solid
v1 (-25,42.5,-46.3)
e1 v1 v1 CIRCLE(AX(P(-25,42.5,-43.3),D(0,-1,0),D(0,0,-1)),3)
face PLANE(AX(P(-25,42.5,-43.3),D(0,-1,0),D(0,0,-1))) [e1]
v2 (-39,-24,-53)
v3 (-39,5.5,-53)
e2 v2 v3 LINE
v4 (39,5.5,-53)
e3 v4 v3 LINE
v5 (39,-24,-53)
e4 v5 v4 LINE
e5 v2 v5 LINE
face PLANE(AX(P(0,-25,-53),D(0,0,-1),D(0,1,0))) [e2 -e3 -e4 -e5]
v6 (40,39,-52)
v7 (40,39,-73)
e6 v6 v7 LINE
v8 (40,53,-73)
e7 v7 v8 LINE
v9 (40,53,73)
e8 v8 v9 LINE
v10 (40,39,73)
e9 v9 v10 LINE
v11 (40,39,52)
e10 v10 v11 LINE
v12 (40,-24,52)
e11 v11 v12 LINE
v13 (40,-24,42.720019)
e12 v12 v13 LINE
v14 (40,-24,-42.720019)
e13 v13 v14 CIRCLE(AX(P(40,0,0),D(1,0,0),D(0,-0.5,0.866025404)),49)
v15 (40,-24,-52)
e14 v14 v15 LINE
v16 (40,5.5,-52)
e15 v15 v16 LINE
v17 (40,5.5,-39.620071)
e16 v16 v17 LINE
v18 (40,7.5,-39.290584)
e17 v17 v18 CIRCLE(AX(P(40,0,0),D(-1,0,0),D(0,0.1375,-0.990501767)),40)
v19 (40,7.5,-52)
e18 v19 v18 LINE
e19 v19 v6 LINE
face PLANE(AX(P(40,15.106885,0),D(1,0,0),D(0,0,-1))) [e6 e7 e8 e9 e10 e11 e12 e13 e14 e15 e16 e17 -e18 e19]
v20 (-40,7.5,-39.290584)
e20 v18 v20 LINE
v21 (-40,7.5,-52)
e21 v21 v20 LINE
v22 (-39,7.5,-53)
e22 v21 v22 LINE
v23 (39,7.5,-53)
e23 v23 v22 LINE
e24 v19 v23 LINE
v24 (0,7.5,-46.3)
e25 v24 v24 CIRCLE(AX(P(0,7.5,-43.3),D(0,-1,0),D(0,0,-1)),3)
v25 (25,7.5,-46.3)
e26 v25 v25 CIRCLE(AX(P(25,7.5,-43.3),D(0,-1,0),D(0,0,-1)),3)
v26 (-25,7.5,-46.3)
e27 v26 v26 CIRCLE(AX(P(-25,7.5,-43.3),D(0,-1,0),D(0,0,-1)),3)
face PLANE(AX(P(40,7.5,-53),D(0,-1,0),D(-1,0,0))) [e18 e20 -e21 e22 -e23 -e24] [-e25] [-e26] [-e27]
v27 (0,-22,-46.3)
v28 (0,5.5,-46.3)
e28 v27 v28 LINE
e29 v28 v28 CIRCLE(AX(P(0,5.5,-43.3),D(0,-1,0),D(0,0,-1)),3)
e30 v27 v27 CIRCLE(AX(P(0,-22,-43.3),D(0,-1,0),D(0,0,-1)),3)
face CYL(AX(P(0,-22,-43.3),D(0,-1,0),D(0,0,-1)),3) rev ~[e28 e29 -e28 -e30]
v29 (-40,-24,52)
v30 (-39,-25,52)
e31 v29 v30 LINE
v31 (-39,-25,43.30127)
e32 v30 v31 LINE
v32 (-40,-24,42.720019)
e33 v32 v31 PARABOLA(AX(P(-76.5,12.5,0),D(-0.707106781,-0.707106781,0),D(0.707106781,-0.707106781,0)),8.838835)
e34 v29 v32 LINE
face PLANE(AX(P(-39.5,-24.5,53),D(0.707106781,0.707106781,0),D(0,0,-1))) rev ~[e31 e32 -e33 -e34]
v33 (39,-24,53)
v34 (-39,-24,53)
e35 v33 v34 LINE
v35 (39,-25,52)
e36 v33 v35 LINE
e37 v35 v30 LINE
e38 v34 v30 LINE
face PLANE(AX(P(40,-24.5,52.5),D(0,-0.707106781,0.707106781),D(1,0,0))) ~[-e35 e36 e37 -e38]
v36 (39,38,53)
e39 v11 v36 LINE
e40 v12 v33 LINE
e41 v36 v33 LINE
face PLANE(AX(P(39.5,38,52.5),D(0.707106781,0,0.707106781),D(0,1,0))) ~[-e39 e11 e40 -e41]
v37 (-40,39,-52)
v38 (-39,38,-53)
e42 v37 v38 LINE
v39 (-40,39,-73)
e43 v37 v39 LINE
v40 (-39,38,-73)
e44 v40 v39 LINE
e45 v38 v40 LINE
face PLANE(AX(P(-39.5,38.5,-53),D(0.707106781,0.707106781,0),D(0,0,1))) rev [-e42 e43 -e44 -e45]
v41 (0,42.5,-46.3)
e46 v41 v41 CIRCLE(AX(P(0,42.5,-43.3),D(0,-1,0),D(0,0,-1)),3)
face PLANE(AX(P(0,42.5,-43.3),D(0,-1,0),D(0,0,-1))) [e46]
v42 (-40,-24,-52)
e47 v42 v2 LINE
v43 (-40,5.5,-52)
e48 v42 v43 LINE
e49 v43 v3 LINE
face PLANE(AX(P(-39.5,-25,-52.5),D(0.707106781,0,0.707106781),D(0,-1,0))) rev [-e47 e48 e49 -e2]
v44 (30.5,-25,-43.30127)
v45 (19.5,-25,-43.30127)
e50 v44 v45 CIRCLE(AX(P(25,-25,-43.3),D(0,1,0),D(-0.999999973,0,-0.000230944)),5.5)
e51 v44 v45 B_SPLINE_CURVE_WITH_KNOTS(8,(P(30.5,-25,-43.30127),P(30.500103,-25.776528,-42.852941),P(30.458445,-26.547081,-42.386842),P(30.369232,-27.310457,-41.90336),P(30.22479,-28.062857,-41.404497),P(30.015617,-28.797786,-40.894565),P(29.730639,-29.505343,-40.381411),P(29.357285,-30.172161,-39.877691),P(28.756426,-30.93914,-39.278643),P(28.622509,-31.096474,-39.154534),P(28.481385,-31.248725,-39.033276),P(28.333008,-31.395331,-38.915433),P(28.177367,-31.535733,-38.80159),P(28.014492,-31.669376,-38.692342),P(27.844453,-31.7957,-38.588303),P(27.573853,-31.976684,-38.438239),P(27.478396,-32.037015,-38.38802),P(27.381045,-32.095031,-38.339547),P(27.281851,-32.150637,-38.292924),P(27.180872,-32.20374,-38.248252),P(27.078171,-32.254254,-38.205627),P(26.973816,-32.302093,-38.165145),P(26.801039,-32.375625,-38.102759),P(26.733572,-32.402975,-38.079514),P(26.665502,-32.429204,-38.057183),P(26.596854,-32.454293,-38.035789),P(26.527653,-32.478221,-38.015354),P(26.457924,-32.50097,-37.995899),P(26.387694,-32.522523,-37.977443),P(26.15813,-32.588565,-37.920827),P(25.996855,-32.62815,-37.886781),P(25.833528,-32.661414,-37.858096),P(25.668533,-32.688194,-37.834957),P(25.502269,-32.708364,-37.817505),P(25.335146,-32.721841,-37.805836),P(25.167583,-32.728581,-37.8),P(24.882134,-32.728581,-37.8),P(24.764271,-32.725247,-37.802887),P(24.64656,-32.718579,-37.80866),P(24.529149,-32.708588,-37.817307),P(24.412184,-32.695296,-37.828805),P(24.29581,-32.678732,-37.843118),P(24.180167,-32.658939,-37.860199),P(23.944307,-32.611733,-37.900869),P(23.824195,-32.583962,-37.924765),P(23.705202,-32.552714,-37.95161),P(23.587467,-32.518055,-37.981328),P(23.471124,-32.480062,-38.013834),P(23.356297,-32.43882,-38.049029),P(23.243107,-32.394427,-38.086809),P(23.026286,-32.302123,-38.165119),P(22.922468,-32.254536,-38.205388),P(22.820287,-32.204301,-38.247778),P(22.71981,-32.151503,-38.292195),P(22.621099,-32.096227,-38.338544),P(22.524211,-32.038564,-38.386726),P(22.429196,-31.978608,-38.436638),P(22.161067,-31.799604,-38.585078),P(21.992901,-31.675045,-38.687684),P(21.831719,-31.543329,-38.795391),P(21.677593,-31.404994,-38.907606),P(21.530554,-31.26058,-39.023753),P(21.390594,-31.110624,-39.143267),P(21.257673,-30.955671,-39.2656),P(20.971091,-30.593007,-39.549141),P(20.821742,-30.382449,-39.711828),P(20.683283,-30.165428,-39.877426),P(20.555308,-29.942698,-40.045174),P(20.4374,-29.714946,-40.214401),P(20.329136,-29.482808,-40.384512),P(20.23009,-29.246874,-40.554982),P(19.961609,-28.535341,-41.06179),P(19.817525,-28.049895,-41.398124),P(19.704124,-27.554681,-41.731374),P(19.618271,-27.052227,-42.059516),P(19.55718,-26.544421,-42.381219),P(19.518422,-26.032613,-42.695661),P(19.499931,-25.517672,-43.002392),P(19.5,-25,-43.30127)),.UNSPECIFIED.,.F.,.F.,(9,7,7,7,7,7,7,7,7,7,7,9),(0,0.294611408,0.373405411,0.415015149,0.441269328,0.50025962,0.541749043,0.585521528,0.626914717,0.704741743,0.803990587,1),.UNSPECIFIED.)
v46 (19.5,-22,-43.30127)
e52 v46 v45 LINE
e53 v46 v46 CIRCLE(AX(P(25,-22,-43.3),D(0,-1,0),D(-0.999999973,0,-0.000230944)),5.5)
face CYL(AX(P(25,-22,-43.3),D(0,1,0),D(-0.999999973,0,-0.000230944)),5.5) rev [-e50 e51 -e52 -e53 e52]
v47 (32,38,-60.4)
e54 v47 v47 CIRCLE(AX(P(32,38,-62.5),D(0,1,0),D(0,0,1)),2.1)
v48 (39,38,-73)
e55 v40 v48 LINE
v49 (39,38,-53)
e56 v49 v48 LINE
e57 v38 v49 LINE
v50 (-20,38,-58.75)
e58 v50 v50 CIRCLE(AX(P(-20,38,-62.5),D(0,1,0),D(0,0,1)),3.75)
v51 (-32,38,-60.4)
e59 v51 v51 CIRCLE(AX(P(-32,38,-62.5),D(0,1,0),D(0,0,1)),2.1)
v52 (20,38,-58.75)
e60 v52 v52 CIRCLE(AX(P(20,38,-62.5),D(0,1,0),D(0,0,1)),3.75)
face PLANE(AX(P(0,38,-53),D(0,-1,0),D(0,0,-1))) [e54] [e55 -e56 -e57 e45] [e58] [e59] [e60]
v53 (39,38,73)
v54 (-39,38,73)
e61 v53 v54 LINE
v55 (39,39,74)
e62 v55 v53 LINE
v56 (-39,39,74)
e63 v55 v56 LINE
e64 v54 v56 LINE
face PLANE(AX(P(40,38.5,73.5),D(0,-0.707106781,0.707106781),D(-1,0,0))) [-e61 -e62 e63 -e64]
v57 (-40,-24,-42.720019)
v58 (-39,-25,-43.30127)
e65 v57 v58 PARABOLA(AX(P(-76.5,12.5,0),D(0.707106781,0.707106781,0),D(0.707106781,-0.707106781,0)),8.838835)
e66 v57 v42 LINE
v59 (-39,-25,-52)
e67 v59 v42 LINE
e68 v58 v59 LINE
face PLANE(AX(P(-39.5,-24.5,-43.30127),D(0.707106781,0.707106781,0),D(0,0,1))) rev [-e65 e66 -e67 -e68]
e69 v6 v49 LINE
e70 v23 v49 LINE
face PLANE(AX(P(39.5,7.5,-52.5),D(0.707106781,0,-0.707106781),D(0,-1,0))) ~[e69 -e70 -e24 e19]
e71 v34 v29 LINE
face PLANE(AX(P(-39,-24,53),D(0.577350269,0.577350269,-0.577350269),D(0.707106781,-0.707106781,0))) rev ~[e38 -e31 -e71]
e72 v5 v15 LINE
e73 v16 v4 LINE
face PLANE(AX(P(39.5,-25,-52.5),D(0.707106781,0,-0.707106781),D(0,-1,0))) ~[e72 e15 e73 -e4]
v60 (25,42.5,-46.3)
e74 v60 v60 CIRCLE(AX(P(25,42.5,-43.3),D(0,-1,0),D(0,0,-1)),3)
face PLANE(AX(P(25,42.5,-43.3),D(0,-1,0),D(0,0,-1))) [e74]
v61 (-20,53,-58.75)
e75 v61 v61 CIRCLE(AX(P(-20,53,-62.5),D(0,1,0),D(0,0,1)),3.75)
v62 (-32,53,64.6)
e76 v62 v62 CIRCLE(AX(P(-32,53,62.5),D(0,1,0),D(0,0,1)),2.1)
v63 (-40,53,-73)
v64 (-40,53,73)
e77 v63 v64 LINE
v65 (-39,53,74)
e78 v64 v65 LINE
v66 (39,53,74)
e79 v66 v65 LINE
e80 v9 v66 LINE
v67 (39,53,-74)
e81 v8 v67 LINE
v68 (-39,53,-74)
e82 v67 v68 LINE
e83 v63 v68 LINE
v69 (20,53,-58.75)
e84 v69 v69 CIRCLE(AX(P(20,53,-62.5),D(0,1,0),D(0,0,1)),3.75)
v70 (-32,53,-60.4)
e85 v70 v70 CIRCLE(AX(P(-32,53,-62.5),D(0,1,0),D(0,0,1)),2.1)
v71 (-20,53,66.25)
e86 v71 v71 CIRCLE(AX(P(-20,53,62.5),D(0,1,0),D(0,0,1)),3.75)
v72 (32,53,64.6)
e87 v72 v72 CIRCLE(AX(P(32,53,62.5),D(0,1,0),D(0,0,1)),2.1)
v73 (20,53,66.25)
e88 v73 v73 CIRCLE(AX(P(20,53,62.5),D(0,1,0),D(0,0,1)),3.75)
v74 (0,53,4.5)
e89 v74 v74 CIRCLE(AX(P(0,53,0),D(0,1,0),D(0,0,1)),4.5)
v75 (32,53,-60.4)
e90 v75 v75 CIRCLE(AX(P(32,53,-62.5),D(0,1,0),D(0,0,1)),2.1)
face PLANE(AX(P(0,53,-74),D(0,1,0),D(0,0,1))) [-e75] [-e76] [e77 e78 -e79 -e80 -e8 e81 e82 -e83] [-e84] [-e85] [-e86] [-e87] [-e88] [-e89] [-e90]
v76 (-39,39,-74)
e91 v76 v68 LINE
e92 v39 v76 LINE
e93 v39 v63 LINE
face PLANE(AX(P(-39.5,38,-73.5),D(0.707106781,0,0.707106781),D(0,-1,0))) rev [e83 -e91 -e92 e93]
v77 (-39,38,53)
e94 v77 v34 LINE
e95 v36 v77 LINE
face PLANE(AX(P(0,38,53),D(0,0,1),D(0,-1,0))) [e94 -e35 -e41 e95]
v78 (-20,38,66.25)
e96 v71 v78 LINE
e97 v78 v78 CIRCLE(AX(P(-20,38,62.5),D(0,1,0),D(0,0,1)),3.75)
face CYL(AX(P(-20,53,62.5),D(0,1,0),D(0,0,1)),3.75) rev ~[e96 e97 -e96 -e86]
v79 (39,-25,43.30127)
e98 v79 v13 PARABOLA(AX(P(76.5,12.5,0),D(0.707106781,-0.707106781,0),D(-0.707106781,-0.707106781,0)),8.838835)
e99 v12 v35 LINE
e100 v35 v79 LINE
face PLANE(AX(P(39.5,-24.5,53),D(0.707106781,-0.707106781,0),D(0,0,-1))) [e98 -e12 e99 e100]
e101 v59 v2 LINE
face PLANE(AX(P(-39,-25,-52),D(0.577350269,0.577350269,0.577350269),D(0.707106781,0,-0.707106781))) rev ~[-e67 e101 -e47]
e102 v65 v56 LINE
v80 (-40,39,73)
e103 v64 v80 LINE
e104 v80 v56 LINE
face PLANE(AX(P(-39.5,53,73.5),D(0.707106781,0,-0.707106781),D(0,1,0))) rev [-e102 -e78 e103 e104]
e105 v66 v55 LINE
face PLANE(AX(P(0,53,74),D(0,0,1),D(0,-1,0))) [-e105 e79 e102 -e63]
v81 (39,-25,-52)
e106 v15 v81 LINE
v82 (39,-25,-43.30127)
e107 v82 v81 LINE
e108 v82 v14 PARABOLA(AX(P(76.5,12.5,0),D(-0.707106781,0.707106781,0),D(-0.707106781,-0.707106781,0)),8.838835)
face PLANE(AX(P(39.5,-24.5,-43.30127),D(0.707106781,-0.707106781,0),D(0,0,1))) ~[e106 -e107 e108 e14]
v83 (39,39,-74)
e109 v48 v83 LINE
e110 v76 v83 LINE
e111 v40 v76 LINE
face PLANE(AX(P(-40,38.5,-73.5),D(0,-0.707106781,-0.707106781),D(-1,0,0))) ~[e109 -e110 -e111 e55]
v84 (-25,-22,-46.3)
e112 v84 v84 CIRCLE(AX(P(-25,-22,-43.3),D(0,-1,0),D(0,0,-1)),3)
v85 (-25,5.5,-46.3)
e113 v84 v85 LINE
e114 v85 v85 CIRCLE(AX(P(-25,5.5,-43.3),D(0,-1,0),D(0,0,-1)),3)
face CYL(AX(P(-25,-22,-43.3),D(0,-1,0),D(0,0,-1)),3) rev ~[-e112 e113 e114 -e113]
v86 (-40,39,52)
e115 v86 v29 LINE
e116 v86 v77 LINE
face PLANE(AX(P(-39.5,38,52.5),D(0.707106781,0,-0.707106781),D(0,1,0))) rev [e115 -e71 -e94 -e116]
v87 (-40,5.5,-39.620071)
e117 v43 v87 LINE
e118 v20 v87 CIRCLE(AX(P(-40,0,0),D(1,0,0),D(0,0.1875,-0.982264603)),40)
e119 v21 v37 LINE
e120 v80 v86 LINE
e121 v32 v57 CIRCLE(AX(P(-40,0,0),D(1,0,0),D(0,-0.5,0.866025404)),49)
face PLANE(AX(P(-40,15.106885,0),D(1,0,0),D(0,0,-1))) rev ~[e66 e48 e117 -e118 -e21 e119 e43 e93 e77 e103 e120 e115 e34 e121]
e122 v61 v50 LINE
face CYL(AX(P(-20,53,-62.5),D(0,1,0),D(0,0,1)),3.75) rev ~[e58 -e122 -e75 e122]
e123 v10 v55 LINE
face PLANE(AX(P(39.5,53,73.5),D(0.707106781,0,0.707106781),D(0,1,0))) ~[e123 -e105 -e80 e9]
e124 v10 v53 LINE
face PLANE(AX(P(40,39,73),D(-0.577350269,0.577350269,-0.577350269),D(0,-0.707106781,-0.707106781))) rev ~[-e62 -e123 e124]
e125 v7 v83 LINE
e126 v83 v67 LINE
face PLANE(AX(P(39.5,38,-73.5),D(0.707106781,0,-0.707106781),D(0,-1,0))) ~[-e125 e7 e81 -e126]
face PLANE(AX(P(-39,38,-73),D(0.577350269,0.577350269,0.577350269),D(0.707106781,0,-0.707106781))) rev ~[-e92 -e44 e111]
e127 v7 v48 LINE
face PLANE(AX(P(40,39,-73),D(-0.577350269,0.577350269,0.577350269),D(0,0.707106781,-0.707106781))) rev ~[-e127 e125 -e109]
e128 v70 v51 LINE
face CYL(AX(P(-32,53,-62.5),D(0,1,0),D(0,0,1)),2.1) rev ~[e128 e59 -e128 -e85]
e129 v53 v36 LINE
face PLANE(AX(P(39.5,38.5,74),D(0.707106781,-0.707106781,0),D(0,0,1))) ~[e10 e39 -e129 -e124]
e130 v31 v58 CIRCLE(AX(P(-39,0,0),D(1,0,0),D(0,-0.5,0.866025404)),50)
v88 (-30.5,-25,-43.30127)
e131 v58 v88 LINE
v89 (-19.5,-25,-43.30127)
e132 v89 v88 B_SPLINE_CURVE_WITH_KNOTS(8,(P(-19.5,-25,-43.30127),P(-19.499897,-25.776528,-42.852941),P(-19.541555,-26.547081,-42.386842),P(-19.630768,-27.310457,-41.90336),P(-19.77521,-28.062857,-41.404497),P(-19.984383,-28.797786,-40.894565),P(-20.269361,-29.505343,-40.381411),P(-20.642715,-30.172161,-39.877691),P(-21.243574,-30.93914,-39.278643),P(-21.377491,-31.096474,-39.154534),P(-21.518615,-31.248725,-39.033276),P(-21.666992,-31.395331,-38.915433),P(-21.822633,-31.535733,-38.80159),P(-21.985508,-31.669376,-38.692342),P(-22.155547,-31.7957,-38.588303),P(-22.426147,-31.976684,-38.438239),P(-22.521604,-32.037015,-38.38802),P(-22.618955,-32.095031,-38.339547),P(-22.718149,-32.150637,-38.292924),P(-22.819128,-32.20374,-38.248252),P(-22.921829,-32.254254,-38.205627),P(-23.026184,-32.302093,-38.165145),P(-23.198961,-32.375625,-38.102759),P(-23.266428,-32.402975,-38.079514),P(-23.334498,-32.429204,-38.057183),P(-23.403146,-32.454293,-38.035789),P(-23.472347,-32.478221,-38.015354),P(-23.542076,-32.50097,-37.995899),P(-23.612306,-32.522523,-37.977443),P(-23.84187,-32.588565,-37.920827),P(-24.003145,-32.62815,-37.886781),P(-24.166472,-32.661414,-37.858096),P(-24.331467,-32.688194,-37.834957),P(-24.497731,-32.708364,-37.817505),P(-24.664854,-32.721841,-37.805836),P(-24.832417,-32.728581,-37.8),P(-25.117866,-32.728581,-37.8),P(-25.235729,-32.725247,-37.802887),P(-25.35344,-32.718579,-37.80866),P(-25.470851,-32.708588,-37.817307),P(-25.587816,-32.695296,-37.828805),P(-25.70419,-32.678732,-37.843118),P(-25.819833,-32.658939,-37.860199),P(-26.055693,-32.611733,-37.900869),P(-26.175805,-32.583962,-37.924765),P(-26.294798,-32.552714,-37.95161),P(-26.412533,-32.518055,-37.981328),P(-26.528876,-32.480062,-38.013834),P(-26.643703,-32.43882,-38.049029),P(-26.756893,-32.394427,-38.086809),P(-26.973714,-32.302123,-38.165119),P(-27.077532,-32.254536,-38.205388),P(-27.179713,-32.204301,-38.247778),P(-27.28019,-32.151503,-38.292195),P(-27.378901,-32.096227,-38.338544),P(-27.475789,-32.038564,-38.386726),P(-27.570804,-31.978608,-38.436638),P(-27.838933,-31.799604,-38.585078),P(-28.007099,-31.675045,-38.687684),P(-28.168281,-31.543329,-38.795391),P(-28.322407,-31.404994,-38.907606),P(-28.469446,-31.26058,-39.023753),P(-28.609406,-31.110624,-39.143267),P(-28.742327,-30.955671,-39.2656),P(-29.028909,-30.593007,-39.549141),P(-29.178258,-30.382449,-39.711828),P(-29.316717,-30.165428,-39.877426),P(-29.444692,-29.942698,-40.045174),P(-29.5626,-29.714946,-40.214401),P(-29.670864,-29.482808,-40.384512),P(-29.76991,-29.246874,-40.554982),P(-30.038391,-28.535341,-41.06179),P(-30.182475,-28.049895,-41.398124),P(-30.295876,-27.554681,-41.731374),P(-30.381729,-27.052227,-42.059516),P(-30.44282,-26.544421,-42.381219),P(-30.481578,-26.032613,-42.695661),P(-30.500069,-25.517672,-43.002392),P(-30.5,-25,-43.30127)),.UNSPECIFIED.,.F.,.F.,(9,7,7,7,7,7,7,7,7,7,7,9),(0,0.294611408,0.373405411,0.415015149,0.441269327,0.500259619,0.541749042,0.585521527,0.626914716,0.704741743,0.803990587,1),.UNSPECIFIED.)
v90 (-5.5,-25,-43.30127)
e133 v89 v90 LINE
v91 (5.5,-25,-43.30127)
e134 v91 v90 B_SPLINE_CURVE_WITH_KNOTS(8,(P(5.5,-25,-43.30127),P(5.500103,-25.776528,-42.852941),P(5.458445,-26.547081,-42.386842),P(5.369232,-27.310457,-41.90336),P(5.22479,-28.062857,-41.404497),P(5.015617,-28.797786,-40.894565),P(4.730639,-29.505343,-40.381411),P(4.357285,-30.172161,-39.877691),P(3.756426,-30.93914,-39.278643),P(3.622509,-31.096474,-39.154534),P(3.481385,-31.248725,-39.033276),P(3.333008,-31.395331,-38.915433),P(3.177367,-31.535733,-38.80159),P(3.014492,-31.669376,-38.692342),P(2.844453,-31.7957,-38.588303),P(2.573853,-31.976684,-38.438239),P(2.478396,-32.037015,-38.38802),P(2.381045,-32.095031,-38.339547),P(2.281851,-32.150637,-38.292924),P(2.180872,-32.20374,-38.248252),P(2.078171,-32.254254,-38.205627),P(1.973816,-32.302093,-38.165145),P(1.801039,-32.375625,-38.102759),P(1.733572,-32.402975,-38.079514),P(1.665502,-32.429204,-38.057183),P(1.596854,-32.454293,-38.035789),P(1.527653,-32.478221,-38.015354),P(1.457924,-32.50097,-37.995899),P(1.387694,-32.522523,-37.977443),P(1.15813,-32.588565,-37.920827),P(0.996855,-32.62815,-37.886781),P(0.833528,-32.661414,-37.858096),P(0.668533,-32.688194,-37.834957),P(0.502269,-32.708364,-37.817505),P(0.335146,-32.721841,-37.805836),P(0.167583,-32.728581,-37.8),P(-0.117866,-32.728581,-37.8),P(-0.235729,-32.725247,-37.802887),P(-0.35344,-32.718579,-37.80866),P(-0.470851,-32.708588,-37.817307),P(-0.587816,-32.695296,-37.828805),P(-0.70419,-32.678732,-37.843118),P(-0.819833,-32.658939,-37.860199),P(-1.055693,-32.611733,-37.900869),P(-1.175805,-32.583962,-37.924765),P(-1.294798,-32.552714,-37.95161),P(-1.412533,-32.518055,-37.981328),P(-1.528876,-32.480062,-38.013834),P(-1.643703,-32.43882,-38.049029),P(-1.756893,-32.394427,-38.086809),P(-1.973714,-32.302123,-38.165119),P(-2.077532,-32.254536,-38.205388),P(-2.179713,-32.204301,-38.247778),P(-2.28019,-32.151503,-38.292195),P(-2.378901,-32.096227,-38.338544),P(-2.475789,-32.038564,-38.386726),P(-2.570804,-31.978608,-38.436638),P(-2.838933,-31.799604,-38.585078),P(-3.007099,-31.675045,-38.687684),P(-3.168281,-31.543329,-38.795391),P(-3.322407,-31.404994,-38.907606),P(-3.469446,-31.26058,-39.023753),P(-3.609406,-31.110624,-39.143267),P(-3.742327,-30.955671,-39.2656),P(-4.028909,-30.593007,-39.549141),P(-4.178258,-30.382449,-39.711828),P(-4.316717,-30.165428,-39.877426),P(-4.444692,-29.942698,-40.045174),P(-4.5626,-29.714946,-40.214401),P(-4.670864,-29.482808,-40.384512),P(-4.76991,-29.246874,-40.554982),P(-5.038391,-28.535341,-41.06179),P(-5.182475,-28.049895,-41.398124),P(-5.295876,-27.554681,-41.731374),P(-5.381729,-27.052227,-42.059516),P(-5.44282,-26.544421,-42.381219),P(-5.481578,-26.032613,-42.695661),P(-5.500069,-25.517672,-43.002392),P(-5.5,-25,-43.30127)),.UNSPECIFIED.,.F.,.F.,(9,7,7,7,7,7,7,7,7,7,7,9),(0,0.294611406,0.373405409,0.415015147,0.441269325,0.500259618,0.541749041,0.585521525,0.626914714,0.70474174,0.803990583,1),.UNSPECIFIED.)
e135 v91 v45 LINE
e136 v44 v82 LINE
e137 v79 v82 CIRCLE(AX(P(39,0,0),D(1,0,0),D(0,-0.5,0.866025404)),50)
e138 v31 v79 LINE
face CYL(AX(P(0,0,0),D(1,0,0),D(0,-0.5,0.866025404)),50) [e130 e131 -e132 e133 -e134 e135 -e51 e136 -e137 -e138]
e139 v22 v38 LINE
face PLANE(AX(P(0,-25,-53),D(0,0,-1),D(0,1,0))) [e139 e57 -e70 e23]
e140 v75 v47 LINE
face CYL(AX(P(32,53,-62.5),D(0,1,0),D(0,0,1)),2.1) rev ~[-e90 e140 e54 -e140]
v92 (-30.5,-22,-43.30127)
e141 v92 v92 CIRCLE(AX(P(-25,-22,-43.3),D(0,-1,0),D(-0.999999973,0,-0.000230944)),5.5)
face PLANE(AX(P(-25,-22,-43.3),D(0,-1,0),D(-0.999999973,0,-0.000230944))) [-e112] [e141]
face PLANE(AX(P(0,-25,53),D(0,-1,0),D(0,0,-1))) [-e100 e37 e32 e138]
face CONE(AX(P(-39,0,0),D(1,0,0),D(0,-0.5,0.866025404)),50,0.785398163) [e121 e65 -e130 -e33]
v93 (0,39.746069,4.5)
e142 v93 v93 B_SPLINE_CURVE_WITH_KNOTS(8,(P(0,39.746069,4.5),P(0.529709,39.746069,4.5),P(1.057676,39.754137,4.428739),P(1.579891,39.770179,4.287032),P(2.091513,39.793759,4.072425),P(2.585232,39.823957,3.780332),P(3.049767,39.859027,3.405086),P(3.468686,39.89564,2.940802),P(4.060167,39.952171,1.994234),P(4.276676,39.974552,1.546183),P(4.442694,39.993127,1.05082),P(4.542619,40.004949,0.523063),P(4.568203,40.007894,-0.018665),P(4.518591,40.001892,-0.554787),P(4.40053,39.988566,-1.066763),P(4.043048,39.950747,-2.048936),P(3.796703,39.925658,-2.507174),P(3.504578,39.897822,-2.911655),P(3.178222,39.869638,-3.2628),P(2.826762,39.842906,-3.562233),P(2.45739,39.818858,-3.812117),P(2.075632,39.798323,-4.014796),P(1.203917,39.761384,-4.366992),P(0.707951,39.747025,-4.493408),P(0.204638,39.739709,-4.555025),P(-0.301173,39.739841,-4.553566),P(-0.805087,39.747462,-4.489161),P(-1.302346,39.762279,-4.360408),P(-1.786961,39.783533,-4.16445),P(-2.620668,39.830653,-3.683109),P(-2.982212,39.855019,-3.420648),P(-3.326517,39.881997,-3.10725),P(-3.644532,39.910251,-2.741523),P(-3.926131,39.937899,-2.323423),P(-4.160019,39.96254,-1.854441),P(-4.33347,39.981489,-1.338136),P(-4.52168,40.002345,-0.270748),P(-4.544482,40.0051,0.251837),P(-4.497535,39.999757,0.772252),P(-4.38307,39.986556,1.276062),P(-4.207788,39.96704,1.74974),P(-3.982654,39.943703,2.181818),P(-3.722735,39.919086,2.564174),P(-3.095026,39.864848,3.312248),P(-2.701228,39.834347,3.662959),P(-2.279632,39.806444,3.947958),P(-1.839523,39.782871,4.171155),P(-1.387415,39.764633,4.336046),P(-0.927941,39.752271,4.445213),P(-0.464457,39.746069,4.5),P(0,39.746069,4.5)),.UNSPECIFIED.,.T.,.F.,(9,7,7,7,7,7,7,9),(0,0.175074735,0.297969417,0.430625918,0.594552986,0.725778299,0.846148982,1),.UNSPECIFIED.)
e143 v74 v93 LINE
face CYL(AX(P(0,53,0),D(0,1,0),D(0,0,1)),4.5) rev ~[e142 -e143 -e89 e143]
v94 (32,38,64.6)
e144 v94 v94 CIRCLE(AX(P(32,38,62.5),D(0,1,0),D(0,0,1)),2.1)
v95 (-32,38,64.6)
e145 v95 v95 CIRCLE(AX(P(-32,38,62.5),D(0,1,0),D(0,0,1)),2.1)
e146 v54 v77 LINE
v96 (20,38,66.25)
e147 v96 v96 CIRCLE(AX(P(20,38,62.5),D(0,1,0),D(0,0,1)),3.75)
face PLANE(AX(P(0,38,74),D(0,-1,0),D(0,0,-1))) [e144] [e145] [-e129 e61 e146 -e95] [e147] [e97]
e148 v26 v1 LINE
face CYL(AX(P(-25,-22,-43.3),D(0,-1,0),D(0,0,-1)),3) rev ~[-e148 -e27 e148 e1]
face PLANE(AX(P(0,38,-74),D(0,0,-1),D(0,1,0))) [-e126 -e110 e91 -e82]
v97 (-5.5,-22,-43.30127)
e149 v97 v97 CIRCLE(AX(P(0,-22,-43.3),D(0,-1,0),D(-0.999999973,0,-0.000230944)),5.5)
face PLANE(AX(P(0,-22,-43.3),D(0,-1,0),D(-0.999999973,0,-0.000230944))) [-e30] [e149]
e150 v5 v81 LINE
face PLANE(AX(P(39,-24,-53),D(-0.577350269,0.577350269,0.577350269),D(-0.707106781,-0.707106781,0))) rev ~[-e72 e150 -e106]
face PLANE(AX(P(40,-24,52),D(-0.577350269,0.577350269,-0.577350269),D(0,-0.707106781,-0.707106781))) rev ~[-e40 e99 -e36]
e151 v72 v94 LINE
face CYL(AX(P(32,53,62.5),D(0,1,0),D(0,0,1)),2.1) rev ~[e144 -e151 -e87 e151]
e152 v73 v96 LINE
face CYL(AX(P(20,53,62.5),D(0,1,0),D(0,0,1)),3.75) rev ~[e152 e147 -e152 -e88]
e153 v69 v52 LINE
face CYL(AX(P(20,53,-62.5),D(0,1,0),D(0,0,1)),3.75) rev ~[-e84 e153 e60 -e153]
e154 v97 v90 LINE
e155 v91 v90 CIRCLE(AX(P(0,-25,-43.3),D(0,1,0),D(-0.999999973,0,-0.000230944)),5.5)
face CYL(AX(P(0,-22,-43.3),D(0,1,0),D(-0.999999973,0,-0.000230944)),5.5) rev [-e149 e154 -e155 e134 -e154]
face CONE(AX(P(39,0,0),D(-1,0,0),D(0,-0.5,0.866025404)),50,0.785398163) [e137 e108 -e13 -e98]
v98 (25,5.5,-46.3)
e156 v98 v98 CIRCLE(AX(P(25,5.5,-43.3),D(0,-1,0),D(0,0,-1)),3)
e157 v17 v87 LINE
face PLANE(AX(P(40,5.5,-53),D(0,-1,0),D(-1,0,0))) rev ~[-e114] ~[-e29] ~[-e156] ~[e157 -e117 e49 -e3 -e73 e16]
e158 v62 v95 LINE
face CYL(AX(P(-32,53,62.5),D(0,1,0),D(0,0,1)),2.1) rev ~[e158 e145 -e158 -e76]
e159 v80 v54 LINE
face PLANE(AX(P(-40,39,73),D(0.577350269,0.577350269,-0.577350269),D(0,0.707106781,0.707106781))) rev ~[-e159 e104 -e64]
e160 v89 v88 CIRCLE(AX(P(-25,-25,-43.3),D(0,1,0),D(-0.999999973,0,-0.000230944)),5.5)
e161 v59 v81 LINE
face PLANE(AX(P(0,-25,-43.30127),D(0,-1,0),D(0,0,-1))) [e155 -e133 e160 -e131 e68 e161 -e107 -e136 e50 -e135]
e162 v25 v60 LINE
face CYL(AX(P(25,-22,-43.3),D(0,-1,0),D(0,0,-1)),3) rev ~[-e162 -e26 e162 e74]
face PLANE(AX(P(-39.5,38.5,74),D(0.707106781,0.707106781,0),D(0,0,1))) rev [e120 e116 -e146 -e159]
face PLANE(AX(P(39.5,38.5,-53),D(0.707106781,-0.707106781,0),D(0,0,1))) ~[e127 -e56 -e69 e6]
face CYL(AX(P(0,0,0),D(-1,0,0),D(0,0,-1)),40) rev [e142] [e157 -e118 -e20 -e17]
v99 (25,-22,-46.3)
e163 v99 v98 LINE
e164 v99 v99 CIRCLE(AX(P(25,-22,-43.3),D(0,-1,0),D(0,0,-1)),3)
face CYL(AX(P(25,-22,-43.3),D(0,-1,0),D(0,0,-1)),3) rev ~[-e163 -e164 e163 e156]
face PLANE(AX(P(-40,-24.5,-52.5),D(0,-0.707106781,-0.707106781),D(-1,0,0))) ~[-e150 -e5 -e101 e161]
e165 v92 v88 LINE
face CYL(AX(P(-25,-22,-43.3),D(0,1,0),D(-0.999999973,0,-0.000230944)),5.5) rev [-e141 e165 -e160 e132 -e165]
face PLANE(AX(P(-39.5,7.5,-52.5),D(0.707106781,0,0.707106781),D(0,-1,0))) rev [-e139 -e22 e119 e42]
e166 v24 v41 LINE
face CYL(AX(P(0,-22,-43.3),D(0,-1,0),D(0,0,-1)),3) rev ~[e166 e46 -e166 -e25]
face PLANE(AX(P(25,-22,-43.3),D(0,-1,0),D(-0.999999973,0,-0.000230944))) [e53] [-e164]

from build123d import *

# Parameters (mm, degrees)
SKETCH1_R           = 40
BOSS_EXTRUDE1_DEPTH = 40
SKETCH2_W           = 80
SKETCH2_H           = 2
CUT_EXTRUDE1_DEPTH  = 19
CUT_EXTRUDE2_START  = -3
SKETCH3_R           = 5.5
CUT_EXTRUDE2_DEPTH  = 118.717043198
SKETCH4_R           = 3
CUT_EXTRUDE3_DEPTH  = 64.5
LPATTERN1_COUNT     = 3
LPATTERN1_PITCH     = 25
SKETCH5_R           = 4.5
SKETCH5_R_2         = 2.1
SKETCH5_R_3         = 3.75
CUT_EXTRUDE4_DEPTH  = 24.5
CHAMFER1_SIZE       = 1


with BuildPart() as part:
    # Sketch1 → Boss-Extrude1 (new, symmetric)
    with BuildSketch(Plane(origin=(0, 0, 0), x_dir=(0, 0, -1), z_dir=(1, 0, 0))):
        with BuildLine():
            Line((-53, -25), (-43.301270189, -25))
            ThreePointArc((-43.301270189, -25), (0, -50), (43.301270189, -25))
            Line((43.301270189, -25), (53, -25))
            Line((53, -25), (53, 38))
            Line((53, 38), (74, 38))
            Line((74, 38), (74, 53))
            Line((74, 53), (-74, 53))
            Line((-74, 53), (-74, 38))
            Line((-74, 38), (-53, 38))
            Line((-53, 38), (-53, -25))
        make_face()
        Circle(SKETCH1_R, mode=Mode.SUBTRACT)
    extrude(amount=BOSS_EXTRUDE1_DEPTH, both=True)

    # Sketch2 → Cut-Extrude1 (cut)
    with BuildSketch(Plane(origin=(0, 0, -53), x_dir=(-1, 0, 0), z_dir=(0, 0, -1))):
        with Locations((0, 6.5)):
            Rectangle(SKETCH2_W, SKETCH2_H)
    extrude(amount=-CUT_EXTRUDE1_DEPTH, mode=Mode.SUBTRACT)

    # Sketch3 → Cut-Extrude2 (cut, through all)
    with BuildSketch(Plane.XZ.offset(25).offset(CUT_EXTRUDE2_START)):
        with Locations(Location((25.000000054, -43.3, 0), (0, 0, 180.013232088))):
            Circle(SKETCH3_R)
    cut_extrude2 = extrude(amount=CUT_EXTRUDE2_DEPTH, mode=Mode.SUBTRACT)

    # Sketch4 → Cut-Extrude3 (cut)
    with BuildSketch(Plane.XZ.offset(22)):
        with Locations(Location((25.000000054, -43.3, 0), (0, 0, 270))):
            Circle(SKETCH4_R)
    cut_extrude3 = extrude(amount=-CUT_EXTRUDE3_DEPTH, mode=Mode.SUBTRACT)

    # LPattern1: Cut-Extrude2, Cut-Extrude3 ×3
    with Locations(*[(-i * LPATTERN1_PITCH, 0, 0) for i in range(1, LPATTERN1_COUNT)]):
        add(cut_extrude2, mode=Mode.SUBTRACT)
        add(cut_extrude3, mode=Mode.SUBTRACT)

    # Sketch5 → Cut-Extrude4 (cut)
    with BuildSketch(Plane(origin=(0, 53, 0), x_dir=(1, 0, 0), z_dir=(0, 1, 0))):
        with Locations(Location((0, 0, 0), (0, 0, 270))):
            Circle(SKETCH5_R)
        with Locations(Location((-32, 62.5, 0), (0, 0, 270))):
            Circle(SKETCH5_R_2)
        with Locations(Location((-20, 62.5, 0), (0, 0, 270))):
            Circle(SKETCH5_R_3)
        with Locations(Location((32, 62.5, 0), (0, 0, 270))):
            Circle(SKETCH5_R_2)
        with Locations(Location((20, 62.5, 0), (0, 0, 270))):
            Circle(SKETCH5_R_3)
        with Locations(Location((32, -62.5, 0), (0, 0, 270))):
            Circle(SKETCH5_R_2)
        with Locations(Location((20, -62.5, 0), (0, 0, 270))):
            Circle(SKETCH5_R_3)
        with Locations(Location((-20, -62.5, 0), (0, 0, 270))):
            Circle(SKETCH5_R_3)
        with Locations(Location((-32, -62.5, 0), (0, 0, 270))):
            Circle(SKETCH5_R_2)
    extrude(amount=-CUT_EXTRUDE4_DEPTH, mode=Mode.SUBTRACT)

    # Chamfer1
    chamfer1_edges = [part.edges().sort_by_distance(p)[0] for p in [
        (40, -50, 0),
        (-40, 45.5, -74),
        (-40, 38, -63.5),
        (-40, -9.75, -53),
        (-40, -25, -48.150635095),
        (-40, -50, 0),
        (-40, -25, 48.150635095),
        (-40, 6.5, 53),
        (40, -25, -48.150635095),
        (40, -9.75, -53),
        (0, 38, 74),
        (0, 38, -74),
        (0, -25, -53),
        (0, -25, 53),
        (40, 38, -63.5),
        (40, 45.5, -74),
        (40, 45.5, 74),
        (40, 38, 63.5),
        (-40, 22.75, -53),
        (40, 22.75, -53),
        (40, 6.5, 53),
        (40, -25, 48.150635095),
        (-40, 38, 63.5),
        (-40, 45.5, 74),
    ]]
    chamfer(chamfer1_edges, length=CHAMFER1_SIZE)


solid = part.part
